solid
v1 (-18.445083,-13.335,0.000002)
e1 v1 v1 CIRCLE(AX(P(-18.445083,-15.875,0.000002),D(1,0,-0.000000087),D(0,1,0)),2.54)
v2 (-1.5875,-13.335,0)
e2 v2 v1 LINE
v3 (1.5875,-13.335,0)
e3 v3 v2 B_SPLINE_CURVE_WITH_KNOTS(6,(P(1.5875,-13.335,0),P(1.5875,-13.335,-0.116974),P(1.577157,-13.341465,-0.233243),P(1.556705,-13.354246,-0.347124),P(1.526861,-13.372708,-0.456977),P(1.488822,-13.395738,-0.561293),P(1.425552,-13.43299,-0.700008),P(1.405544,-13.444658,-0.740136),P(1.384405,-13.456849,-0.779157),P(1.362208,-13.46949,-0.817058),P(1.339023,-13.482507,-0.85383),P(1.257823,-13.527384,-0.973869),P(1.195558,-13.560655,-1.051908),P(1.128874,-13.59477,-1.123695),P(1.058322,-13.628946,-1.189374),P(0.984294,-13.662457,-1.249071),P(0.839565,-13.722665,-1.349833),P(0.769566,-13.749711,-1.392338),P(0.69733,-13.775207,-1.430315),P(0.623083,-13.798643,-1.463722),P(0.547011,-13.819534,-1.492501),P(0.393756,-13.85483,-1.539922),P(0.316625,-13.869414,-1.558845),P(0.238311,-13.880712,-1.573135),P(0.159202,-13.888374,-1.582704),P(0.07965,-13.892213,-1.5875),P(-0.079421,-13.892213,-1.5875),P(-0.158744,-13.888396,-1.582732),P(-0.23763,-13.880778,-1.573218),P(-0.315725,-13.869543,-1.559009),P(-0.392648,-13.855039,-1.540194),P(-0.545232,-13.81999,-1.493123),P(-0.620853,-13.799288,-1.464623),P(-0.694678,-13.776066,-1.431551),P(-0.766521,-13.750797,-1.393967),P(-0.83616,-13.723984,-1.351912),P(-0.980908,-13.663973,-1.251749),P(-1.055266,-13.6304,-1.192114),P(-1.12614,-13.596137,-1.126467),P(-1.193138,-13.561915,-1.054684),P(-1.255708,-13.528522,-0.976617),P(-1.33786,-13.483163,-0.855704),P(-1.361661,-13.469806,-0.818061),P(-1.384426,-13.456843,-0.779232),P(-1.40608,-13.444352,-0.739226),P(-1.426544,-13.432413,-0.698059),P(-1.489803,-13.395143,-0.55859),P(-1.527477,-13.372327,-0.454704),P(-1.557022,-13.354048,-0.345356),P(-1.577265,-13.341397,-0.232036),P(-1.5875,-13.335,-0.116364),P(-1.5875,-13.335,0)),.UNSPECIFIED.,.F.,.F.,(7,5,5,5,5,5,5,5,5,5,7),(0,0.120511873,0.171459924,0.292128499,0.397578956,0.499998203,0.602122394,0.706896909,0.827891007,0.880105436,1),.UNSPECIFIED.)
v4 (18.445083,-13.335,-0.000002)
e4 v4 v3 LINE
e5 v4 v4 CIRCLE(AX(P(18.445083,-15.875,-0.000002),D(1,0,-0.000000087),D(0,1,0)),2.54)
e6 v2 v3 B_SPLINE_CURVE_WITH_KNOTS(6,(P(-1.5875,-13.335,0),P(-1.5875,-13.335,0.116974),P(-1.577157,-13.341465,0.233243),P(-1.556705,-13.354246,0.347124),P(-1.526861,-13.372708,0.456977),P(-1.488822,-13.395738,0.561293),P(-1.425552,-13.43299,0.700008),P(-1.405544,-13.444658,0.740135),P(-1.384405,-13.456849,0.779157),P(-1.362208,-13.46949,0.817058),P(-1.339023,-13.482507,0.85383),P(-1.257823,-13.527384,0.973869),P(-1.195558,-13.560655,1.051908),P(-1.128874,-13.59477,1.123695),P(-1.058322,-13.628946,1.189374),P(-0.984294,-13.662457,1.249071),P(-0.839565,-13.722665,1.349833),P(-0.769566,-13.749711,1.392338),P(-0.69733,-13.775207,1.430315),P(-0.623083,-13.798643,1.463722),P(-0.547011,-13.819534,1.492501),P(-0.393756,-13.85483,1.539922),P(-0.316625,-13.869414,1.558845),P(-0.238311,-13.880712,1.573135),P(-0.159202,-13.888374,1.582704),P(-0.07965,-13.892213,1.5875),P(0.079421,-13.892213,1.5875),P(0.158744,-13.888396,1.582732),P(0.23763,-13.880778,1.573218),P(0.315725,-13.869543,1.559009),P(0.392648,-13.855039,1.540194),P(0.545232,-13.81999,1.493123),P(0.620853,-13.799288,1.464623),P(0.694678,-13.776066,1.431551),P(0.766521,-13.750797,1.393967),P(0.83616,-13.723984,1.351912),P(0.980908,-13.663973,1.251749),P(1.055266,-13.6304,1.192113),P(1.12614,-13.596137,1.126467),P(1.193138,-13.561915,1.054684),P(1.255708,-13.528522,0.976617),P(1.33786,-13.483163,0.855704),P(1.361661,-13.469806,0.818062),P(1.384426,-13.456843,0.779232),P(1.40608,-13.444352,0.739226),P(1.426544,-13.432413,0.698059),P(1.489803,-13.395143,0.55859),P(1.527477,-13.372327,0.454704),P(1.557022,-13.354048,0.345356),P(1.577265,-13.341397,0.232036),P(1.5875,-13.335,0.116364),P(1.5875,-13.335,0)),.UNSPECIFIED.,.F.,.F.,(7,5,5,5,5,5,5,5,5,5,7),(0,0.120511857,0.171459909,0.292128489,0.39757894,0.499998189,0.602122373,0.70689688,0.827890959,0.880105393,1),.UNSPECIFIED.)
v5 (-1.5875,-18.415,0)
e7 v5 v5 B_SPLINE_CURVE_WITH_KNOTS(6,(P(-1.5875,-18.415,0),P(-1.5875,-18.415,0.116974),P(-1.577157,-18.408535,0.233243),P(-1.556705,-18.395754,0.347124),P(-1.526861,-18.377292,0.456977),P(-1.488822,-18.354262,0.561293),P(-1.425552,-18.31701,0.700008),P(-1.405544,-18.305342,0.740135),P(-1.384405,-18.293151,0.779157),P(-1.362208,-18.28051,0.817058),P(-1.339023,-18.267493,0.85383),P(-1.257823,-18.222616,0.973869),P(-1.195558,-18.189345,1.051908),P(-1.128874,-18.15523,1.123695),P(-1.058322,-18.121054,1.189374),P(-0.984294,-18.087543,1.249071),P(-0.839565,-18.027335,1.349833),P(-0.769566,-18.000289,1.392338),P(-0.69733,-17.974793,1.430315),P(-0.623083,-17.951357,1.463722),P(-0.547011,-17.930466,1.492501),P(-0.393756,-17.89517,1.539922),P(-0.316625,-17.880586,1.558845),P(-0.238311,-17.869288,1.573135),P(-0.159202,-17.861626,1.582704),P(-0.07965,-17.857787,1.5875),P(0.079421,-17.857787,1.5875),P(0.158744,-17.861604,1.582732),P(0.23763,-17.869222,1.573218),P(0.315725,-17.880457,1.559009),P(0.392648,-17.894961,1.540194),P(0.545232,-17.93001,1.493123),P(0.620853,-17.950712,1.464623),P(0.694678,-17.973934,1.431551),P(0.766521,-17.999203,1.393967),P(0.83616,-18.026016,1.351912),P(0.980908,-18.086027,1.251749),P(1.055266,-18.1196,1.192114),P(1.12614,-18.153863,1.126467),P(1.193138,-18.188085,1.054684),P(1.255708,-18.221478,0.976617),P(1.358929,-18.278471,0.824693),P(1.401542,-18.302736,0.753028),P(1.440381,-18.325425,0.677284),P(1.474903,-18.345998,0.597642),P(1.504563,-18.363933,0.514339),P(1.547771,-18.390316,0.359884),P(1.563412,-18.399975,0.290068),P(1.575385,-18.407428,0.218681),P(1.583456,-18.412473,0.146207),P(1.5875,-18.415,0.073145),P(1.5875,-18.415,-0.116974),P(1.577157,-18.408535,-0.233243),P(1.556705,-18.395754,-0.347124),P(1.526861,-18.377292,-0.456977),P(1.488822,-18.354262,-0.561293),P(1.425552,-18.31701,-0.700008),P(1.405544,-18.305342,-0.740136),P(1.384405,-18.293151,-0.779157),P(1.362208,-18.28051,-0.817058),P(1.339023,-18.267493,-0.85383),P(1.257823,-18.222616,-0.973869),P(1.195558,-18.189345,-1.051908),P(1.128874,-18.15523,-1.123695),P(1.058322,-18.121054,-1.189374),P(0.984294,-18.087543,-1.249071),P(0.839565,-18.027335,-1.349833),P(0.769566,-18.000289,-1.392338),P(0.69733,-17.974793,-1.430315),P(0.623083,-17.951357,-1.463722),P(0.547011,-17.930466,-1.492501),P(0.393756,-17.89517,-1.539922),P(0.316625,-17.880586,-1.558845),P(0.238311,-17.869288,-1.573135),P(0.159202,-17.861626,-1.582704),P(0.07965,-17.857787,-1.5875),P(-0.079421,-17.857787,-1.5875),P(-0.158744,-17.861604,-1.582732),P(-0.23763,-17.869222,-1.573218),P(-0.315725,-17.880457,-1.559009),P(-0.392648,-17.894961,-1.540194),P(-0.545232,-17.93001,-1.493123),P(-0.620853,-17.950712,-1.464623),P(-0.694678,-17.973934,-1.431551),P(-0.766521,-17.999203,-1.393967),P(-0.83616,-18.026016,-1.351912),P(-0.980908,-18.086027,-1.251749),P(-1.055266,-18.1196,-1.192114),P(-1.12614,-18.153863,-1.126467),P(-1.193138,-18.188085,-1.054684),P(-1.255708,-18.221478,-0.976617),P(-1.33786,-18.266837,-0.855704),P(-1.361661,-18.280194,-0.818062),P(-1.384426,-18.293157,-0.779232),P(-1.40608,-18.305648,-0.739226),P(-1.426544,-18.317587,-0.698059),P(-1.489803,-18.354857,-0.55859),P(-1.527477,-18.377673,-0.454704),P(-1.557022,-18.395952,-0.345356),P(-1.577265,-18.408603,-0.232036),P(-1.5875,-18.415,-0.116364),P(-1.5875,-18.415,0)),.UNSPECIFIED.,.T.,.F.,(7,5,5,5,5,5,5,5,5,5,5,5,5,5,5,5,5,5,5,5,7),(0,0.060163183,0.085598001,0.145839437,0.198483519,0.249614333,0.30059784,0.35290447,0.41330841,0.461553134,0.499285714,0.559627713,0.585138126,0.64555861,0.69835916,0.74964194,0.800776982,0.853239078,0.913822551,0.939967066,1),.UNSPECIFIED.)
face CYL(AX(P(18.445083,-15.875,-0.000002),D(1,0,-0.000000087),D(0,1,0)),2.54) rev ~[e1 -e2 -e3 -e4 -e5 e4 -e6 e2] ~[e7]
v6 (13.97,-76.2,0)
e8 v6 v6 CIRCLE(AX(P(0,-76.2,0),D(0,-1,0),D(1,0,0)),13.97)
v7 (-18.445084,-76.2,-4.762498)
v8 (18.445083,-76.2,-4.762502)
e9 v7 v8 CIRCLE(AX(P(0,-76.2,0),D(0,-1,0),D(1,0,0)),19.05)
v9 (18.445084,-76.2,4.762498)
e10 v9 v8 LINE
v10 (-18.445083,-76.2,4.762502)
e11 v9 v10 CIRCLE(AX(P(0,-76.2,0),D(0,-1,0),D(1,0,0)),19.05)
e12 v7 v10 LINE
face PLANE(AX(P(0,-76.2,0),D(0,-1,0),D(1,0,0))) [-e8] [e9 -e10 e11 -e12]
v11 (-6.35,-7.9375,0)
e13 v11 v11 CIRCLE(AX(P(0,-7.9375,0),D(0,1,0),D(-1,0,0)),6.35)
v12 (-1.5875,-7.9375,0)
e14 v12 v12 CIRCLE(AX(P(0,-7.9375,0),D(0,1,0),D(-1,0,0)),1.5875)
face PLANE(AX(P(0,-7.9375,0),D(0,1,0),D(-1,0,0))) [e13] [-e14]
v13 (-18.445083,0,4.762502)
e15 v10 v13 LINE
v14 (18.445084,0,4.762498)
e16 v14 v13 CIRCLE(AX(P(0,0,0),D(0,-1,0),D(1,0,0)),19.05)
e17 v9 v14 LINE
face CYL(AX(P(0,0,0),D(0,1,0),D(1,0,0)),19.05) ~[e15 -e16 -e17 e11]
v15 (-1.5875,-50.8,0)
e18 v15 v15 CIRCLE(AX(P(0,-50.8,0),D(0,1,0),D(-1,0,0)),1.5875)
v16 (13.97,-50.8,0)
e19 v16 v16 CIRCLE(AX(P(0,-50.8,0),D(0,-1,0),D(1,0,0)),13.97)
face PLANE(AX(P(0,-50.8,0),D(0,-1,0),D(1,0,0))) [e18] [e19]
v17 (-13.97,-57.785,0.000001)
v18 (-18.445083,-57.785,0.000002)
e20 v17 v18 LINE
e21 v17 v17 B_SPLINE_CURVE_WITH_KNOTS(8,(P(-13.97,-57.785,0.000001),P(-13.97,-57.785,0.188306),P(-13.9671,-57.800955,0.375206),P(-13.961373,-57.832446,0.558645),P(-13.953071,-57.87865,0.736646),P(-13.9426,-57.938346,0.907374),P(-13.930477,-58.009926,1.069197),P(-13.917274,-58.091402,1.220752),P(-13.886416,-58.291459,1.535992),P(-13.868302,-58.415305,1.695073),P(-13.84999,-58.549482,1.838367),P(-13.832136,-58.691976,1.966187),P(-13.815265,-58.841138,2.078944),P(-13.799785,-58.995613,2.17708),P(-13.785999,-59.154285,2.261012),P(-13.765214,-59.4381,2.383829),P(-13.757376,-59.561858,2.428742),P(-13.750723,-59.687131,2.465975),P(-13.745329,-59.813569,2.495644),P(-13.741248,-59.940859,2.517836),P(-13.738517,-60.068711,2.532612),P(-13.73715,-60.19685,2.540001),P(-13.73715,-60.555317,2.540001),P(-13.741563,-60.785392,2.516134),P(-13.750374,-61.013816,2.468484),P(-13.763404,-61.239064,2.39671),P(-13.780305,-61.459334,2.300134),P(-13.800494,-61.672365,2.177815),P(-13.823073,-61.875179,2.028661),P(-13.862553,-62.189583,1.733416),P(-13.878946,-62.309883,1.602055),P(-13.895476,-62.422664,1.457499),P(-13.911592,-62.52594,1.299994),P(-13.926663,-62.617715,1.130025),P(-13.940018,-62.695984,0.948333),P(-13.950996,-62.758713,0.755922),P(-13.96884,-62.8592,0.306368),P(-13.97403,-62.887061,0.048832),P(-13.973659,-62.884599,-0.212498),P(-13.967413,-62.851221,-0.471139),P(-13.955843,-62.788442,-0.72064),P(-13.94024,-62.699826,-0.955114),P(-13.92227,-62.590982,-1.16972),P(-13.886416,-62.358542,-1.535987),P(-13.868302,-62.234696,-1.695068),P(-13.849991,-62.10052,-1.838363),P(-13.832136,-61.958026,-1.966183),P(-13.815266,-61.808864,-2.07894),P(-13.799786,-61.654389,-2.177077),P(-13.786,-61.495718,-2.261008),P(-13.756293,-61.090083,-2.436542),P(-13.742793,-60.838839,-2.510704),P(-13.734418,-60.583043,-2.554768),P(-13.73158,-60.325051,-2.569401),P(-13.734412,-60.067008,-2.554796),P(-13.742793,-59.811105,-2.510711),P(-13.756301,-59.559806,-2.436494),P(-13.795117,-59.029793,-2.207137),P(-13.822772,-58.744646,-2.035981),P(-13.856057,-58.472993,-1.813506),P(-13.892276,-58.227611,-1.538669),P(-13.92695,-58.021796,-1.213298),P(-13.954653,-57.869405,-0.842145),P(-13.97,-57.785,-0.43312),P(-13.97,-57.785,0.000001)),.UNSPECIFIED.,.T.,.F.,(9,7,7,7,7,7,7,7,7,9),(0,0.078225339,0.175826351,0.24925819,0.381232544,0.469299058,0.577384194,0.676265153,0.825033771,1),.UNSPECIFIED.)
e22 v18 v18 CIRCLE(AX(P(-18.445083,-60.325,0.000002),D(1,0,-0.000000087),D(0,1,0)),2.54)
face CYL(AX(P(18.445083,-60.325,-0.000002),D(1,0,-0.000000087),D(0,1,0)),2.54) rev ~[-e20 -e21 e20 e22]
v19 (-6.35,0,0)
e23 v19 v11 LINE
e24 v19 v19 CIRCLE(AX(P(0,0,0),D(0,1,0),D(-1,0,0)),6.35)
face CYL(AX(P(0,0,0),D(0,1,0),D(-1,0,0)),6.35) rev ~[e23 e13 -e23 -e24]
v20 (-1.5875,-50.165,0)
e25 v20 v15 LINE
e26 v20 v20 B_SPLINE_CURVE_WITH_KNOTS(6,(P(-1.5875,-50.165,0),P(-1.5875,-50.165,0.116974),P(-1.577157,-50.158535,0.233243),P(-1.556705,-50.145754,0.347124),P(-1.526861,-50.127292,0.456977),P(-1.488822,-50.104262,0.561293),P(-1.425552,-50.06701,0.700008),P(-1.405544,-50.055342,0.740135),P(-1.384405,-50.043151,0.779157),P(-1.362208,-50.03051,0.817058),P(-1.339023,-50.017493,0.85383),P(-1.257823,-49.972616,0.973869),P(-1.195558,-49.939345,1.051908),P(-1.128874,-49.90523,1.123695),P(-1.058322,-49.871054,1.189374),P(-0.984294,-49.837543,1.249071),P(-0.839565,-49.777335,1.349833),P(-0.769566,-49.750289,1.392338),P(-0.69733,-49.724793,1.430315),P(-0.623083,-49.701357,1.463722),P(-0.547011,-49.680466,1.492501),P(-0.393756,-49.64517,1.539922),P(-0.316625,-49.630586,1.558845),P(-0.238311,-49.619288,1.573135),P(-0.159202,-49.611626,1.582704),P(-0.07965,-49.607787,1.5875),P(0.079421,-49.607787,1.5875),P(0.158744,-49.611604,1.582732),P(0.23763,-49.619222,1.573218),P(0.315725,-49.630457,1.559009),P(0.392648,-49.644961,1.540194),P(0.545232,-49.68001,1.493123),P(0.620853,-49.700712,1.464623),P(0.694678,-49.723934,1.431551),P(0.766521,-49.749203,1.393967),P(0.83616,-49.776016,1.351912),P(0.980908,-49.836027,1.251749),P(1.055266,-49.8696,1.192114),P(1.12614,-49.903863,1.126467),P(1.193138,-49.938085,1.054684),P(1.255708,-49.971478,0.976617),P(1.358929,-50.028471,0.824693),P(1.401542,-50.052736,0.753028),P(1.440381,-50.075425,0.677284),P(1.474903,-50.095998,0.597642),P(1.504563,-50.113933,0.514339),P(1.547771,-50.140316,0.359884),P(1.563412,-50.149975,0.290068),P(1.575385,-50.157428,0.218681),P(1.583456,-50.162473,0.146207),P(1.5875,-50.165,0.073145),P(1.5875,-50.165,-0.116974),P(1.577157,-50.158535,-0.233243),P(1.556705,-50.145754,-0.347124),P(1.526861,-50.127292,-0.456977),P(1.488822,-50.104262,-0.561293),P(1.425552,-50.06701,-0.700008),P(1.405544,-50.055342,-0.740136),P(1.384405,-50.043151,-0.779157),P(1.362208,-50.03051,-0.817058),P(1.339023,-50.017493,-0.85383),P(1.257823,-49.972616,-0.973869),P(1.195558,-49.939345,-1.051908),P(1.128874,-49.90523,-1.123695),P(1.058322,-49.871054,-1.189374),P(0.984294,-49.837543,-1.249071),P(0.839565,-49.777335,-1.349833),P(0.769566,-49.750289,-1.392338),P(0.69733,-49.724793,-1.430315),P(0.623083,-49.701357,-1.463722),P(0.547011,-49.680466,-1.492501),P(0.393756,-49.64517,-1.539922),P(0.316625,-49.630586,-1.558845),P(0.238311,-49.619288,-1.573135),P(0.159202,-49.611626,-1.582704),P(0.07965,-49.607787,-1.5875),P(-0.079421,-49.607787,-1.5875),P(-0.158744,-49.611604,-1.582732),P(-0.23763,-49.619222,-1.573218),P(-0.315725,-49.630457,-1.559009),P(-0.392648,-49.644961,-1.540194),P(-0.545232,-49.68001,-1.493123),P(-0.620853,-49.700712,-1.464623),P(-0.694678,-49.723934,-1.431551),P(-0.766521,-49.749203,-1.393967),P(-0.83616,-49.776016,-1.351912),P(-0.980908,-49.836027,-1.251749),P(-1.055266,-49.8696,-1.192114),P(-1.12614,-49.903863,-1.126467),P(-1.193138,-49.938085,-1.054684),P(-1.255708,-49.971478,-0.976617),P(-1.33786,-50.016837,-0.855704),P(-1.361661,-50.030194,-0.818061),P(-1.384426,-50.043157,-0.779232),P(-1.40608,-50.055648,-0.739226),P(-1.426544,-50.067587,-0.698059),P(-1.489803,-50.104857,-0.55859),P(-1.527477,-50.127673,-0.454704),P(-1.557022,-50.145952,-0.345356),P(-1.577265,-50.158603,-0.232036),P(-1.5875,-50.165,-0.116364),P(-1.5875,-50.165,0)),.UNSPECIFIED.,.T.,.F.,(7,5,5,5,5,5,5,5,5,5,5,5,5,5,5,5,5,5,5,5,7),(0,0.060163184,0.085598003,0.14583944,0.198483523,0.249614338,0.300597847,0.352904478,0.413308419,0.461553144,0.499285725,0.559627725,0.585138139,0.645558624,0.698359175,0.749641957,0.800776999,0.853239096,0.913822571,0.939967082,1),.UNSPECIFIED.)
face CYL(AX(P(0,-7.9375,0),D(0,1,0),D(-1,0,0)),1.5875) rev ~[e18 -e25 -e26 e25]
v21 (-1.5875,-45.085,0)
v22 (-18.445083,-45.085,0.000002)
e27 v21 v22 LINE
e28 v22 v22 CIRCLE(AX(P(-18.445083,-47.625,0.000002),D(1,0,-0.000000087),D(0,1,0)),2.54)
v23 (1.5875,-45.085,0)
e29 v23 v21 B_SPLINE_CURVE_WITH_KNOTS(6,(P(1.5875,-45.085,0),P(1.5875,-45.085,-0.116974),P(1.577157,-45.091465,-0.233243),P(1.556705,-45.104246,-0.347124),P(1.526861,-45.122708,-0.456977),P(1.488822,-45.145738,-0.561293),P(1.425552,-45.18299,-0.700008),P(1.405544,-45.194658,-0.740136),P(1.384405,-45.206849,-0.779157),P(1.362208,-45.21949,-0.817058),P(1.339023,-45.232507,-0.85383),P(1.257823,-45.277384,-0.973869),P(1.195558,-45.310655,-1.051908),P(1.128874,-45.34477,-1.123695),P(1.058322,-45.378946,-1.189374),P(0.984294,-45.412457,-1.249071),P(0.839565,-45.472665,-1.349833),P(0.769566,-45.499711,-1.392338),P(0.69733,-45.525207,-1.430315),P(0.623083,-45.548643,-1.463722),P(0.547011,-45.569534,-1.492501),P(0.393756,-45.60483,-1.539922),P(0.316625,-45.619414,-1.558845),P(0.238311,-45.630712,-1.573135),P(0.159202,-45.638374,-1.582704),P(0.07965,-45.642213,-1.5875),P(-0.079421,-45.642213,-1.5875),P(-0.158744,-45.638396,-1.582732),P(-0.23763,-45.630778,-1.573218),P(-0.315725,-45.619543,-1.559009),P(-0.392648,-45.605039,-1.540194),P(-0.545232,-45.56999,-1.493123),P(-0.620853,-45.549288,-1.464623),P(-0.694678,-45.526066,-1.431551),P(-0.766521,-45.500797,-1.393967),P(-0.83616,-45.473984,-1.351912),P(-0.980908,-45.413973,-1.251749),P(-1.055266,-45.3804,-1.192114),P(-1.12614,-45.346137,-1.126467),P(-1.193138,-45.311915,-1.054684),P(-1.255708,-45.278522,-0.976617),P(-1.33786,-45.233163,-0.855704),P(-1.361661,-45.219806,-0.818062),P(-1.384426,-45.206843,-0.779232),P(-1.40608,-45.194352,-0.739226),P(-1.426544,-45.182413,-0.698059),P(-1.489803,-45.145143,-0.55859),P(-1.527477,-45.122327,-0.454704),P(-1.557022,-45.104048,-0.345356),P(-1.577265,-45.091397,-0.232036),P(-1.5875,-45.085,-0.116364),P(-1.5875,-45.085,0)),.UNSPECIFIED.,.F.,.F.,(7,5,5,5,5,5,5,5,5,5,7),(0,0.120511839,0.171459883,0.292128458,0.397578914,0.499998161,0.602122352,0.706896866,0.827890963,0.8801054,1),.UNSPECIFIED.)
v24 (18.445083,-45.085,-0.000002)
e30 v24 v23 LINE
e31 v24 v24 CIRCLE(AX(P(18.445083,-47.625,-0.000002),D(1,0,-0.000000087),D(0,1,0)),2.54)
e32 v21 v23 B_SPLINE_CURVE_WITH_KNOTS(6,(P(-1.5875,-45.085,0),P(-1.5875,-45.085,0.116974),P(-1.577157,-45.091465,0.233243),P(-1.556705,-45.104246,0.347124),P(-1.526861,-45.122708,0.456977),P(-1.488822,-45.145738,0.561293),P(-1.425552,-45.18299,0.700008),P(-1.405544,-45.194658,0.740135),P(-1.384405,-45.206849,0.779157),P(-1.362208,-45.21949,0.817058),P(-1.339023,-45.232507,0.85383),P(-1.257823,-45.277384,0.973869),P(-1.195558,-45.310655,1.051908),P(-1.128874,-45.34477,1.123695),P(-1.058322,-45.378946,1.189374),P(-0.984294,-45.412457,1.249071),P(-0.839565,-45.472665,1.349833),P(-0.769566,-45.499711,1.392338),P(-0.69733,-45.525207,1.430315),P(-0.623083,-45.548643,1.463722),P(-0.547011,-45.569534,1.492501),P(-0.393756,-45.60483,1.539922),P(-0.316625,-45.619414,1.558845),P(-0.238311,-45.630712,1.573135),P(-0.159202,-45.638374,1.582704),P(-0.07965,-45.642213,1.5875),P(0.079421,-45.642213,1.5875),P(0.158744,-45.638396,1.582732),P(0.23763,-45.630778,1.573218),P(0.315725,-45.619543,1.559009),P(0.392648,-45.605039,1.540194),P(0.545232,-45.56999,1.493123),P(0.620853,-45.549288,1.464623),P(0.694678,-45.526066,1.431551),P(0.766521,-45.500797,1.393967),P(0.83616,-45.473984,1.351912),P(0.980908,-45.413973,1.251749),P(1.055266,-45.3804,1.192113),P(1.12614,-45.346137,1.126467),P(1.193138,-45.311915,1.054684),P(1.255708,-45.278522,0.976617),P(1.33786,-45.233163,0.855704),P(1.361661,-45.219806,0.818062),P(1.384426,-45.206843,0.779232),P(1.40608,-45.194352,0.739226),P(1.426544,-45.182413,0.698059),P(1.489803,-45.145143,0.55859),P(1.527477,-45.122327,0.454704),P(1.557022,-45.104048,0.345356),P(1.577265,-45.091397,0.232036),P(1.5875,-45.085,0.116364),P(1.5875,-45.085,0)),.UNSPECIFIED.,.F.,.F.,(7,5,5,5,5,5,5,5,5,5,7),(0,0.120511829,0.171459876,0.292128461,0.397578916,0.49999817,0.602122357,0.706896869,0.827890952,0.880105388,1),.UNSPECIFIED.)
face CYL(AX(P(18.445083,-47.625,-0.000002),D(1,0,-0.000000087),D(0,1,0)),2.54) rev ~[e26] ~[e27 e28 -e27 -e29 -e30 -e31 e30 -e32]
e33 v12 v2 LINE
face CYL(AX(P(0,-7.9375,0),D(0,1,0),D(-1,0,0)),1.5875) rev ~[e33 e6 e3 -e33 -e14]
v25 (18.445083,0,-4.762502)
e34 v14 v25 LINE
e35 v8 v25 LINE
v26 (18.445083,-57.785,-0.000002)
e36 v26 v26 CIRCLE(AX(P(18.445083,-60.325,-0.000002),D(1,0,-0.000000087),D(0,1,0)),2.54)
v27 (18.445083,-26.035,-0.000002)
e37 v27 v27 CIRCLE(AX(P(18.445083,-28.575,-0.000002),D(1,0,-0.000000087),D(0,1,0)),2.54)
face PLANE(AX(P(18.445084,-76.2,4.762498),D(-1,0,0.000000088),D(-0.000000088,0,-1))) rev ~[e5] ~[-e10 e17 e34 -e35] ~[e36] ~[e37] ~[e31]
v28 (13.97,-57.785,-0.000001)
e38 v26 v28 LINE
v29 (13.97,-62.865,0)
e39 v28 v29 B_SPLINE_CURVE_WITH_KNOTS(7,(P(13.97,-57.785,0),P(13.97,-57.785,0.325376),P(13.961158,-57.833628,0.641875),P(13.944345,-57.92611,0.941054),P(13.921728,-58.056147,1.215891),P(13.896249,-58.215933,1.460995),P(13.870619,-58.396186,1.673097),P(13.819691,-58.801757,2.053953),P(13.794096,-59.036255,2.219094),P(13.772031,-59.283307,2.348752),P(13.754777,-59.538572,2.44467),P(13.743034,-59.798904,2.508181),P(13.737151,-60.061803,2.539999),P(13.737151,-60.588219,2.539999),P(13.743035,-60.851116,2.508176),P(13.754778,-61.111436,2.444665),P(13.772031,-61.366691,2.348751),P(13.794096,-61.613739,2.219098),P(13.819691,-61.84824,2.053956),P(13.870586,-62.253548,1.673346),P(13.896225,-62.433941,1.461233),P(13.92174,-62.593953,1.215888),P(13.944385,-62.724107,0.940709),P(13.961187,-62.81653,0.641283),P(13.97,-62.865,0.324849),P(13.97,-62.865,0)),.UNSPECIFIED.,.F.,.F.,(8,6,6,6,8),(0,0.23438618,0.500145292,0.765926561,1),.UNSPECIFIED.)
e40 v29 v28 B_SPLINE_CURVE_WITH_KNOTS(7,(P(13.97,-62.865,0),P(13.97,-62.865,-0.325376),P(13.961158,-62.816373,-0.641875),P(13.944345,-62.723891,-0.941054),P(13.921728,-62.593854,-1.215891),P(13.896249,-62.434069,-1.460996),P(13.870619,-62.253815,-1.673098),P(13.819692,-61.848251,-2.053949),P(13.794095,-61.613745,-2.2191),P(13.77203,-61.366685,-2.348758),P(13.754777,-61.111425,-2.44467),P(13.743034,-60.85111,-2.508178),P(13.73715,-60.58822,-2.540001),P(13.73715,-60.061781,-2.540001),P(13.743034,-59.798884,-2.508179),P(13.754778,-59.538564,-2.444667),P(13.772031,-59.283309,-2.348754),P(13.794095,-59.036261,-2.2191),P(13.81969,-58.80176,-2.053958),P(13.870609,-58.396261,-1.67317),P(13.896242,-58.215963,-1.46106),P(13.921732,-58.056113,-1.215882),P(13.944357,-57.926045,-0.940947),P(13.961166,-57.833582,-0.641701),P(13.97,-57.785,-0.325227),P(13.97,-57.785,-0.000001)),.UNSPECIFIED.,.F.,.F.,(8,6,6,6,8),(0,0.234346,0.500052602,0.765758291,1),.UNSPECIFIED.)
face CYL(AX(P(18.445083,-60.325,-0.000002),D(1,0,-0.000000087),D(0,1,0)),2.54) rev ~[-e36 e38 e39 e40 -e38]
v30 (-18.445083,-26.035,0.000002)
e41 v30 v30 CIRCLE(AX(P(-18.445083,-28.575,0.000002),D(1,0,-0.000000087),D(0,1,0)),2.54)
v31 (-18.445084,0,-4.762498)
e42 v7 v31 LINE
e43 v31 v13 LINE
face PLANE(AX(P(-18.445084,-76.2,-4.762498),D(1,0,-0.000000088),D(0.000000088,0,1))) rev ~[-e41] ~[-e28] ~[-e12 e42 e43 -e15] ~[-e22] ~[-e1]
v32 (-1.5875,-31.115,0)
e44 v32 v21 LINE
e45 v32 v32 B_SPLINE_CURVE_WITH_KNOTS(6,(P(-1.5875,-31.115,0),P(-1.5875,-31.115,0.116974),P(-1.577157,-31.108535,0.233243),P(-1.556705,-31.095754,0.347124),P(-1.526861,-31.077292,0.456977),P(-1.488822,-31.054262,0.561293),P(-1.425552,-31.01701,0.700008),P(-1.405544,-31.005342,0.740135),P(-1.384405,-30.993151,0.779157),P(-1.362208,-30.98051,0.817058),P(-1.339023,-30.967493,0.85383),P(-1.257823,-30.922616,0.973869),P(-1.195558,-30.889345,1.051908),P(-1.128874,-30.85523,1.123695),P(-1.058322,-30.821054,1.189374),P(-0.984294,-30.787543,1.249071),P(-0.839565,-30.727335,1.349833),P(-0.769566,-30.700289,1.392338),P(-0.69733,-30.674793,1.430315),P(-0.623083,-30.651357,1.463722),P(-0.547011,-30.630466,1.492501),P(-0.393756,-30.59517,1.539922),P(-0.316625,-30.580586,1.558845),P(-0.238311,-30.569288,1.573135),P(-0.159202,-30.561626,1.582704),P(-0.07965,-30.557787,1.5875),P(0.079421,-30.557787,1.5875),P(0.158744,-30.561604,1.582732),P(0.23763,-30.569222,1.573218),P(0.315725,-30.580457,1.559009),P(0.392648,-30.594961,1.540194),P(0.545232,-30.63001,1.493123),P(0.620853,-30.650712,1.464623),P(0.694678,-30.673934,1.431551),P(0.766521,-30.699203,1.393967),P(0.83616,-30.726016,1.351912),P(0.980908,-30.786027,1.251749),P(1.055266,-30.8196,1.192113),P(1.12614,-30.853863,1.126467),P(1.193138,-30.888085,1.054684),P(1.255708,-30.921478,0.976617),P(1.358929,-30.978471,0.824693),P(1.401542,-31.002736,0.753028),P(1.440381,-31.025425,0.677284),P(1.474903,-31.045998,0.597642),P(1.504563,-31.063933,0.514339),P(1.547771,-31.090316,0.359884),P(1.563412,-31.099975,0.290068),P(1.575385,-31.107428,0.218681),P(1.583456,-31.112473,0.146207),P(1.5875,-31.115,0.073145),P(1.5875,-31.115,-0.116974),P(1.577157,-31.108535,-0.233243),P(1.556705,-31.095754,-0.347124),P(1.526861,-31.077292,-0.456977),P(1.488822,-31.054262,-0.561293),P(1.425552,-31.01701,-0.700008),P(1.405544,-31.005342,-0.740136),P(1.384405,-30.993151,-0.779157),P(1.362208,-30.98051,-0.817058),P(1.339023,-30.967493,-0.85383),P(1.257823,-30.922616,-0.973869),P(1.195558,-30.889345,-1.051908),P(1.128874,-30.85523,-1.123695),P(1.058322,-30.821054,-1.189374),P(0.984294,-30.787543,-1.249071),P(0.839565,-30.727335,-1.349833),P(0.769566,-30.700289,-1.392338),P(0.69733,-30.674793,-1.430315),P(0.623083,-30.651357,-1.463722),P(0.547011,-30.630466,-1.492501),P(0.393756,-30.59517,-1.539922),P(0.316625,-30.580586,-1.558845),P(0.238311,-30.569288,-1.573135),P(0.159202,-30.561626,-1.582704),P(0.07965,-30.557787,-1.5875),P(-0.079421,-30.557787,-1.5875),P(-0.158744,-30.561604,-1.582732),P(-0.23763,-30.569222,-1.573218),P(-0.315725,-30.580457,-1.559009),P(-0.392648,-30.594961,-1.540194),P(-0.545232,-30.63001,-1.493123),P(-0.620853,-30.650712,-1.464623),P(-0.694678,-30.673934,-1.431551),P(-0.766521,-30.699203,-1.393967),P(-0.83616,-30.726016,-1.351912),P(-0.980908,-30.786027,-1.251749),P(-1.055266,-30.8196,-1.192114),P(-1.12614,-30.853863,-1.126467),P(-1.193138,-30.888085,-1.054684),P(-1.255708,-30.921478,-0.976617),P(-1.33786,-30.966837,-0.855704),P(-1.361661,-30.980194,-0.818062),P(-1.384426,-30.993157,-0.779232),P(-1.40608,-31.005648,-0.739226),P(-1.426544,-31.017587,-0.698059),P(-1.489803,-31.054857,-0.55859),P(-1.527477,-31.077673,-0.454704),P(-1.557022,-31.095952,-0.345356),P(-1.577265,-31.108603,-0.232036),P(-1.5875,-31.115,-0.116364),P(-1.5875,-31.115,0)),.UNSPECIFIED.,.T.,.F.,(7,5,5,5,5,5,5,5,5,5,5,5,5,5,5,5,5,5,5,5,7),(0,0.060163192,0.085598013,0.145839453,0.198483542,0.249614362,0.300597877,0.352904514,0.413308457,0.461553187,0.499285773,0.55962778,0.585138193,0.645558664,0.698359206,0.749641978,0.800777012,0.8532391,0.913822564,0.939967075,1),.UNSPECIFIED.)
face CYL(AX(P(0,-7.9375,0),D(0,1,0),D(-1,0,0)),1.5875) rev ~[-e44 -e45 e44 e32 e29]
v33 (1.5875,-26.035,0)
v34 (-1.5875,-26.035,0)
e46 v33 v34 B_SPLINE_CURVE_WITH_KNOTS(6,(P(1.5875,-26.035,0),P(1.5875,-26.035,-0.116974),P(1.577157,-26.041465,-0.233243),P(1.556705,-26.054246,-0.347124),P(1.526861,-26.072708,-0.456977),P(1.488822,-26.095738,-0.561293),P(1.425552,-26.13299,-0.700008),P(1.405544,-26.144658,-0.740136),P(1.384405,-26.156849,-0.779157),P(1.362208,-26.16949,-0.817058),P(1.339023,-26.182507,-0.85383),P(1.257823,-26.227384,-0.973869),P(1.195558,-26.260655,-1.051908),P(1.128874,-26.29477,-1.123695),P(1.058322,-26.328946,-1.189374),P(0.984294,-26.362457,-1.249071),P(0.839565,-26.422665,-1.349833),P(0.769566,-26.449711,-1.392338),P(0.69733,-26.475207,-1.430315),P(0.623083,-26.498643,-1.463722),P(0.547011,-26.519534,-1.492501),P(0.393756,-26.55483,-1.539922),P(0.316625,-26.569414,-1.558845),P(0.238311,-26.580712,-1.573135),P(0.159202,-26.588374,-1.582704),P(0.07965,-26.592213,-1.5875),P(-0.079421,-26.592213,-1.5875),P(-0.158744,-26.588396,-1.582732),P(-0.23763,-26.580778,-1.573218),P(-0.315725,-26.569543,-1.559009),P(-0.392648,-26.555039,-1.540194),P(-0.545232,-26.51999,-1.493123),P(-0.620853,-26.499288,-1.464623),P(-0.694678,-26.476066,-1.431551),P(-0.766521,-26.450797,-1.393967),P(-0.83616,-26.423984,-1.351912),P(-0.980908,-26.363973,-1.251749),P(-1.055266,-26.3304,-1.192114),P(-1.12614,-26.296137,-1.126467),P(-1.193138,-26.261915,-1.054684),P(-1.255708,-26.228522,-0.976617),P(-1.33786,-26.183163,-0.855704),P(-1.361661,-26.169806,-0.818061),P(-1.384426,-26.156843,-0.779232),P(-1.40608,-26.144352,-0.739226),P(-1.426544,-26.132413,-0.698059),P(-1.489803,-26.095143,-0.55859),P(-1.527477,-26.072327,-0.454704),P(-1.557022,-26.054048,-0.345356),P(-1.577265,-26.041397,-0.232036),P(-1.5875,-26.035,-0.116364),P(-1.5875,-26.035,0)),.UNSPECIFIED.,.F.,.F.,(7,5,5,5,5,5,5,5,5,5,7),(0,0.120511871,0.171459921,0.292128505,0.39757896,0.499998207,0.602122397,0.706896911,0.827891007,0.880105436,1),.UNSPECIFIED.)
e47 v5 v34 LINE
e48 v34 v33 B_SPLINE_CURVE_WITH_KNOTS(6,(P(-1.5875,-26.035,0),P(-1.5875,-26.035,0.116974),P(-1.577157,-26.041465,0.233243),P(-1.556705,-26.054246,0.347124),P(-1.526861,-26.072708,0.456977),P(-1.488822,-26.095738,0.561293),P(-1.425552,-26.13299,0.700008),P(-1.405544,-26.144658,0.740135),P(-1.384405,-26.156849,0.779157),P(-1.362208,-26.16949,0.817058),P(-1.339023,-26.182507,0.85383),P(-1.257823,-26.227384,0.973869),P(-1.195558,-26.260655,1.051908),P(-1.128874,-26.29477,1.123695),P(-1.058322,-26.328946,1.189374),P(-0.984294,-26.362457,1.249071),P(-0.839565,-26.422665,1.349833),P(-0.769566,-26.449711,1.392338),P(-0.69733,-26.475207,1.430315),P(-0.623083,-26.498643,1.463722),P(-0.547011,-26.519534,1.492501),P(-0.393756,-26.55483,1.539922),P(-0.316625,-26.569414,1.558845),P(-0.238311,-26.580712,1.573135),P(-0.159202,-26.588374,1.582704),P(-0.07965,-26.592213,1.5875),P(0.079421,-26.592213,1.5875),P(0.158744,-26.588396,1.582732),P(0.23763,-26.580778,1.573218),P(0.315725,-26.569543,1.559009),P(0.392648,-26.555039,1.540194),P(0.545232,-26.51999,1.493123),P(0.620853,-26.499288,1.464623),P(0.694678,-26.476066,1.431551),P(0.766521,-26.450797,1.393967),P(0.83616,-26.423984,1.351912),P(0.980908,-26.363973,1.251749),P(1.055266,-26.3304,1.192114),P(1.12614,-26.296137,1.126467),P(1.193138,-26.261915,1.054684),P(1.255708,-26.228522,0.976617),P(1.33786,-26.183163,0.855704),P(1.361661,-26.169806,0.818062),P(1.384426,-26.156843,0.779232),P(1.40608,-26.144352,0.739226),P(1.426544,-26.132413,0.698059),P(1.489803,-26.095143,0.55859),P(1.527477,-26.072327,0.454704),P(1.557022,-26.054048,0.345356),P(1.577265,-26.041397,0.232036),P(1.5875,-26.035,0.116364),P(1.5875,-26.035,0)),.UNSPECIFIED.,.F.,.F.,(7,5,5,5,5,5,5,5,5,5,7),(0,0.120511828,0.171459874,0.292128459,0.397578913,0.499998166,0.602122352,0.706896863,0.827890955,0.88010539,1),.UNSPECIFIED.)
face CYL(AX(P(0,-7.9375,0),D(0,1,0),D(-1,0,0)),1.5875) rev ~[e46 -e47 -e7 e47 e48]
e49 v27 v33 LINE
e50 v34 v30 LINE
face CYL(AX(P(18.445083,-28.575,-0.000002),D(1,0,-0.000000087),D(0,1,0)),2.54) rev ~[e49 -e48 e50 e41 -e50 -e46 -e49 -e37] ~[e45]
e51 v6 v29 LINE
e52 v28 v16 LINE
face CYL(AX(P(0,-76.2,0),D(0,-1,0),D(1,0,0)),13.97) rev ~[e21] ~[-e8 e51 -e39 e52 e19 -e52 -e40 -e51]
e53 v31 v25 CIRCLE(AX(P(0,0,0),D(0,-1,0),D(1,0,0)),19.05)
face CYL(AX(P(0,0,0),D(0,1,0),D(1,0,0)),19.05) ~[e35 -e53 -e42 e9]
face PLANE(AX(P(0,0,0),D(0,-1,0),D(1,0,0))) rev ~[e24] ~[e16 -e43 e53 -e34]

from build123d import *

# Parameters (mm, degrees)
F0_R      = 19.05
F1_DEPTH  = 76.2
F2_R      = 13.97
F3_DEPTH  = 25.4
F5_DEPTH  = 76.201
F6_R      = 2.54
F7_DEPTH  = 36.8911684564
F8_R      = 6.35
F9_DEPTH  = 7.9375
F10_R     = 1.5875
F11_DEPTH = 68.2635001


with BuildPart() as f1:
    # F0 (on Front) → F1 (new body)
    with BuildSketch(Plane.XZ):
        Circle(F0_R)
    extrude(amount=F1_DEPTH)

    # F2 (on face) → F3 (cut)
    with BuildSketch(Plane.XZ.offset(76.2)):
        Circle(F2_R)
    extrude(amount=-F3_DEPTH, mode=Mode.SUBTRACT)

    # F4 (on face) → F5 (cut, through all)
    with BuildSketch(Plane.XZ.offset(76.2)):
        with BuildLine():
            ThreePointArc((18.4450827696, -4.7625016141), (19.05, -1.667e-06), (18.4450836031, 4.7624983859))
            Line((18.4450836031, 4.7624983859), (18.4450827696, -4.7625016141))
        make_face()
        with BuildLine():
            Line((-18.4450836031, -4.7624983859), (-18.4450827696, 4.7625016141))
            ThreePointArc((-18.4450827696, 4.7625016141), (-19.05, 1.667e-06), (-18.4450836031, -4.7624983859))
        make_face()
    extrude(amount=-F5_DEPTH, mode=Mode.SUBTRACT)

    # F6 (on face) → F7 (cut, through all)
    with BuildSketch(Plane(origin=(18.4450831863, 0, -1.6141e-06), x_dir=(0, 1, 0), z_dir=(1, 0, -8.75e-08))):
        with Locations((-60.325, 0)):
            Circle(F6_R)
        with Locations((-47.625, 0)):
            Circle(F6_R)
        with Locations((-28.575, 0)):
            Circle(F6_R)
        with Locations((-15.875, 0)):
            Circle(F6_R)
    extrude(amount=-F7_DEPTH, mode=Mode.SUBTRACT)

    # F8 (on face) → F9 (cut)
    with BuildSketch(Plane(origin=(0, 0, 0), x_dir=(-1, 0, 0), z_dir=(0, 1, 0))):
        Circle(F8_R)
    extrude(amount=-F9_DEPTH, mode=Mode.SUBTRACT)

    # F10 (on face) → F11 (cut, through all)
    with BuildSketch(Plane(origin=(0, -7.9375, 0), x_dir=(-1, 0, 0), z_dir=(0, 1, 0))):
        Circle(F10_R)
    extrude(amount=-F11_DEPTH, mode=Mode.SUBTRACT)


solid = f1.part
